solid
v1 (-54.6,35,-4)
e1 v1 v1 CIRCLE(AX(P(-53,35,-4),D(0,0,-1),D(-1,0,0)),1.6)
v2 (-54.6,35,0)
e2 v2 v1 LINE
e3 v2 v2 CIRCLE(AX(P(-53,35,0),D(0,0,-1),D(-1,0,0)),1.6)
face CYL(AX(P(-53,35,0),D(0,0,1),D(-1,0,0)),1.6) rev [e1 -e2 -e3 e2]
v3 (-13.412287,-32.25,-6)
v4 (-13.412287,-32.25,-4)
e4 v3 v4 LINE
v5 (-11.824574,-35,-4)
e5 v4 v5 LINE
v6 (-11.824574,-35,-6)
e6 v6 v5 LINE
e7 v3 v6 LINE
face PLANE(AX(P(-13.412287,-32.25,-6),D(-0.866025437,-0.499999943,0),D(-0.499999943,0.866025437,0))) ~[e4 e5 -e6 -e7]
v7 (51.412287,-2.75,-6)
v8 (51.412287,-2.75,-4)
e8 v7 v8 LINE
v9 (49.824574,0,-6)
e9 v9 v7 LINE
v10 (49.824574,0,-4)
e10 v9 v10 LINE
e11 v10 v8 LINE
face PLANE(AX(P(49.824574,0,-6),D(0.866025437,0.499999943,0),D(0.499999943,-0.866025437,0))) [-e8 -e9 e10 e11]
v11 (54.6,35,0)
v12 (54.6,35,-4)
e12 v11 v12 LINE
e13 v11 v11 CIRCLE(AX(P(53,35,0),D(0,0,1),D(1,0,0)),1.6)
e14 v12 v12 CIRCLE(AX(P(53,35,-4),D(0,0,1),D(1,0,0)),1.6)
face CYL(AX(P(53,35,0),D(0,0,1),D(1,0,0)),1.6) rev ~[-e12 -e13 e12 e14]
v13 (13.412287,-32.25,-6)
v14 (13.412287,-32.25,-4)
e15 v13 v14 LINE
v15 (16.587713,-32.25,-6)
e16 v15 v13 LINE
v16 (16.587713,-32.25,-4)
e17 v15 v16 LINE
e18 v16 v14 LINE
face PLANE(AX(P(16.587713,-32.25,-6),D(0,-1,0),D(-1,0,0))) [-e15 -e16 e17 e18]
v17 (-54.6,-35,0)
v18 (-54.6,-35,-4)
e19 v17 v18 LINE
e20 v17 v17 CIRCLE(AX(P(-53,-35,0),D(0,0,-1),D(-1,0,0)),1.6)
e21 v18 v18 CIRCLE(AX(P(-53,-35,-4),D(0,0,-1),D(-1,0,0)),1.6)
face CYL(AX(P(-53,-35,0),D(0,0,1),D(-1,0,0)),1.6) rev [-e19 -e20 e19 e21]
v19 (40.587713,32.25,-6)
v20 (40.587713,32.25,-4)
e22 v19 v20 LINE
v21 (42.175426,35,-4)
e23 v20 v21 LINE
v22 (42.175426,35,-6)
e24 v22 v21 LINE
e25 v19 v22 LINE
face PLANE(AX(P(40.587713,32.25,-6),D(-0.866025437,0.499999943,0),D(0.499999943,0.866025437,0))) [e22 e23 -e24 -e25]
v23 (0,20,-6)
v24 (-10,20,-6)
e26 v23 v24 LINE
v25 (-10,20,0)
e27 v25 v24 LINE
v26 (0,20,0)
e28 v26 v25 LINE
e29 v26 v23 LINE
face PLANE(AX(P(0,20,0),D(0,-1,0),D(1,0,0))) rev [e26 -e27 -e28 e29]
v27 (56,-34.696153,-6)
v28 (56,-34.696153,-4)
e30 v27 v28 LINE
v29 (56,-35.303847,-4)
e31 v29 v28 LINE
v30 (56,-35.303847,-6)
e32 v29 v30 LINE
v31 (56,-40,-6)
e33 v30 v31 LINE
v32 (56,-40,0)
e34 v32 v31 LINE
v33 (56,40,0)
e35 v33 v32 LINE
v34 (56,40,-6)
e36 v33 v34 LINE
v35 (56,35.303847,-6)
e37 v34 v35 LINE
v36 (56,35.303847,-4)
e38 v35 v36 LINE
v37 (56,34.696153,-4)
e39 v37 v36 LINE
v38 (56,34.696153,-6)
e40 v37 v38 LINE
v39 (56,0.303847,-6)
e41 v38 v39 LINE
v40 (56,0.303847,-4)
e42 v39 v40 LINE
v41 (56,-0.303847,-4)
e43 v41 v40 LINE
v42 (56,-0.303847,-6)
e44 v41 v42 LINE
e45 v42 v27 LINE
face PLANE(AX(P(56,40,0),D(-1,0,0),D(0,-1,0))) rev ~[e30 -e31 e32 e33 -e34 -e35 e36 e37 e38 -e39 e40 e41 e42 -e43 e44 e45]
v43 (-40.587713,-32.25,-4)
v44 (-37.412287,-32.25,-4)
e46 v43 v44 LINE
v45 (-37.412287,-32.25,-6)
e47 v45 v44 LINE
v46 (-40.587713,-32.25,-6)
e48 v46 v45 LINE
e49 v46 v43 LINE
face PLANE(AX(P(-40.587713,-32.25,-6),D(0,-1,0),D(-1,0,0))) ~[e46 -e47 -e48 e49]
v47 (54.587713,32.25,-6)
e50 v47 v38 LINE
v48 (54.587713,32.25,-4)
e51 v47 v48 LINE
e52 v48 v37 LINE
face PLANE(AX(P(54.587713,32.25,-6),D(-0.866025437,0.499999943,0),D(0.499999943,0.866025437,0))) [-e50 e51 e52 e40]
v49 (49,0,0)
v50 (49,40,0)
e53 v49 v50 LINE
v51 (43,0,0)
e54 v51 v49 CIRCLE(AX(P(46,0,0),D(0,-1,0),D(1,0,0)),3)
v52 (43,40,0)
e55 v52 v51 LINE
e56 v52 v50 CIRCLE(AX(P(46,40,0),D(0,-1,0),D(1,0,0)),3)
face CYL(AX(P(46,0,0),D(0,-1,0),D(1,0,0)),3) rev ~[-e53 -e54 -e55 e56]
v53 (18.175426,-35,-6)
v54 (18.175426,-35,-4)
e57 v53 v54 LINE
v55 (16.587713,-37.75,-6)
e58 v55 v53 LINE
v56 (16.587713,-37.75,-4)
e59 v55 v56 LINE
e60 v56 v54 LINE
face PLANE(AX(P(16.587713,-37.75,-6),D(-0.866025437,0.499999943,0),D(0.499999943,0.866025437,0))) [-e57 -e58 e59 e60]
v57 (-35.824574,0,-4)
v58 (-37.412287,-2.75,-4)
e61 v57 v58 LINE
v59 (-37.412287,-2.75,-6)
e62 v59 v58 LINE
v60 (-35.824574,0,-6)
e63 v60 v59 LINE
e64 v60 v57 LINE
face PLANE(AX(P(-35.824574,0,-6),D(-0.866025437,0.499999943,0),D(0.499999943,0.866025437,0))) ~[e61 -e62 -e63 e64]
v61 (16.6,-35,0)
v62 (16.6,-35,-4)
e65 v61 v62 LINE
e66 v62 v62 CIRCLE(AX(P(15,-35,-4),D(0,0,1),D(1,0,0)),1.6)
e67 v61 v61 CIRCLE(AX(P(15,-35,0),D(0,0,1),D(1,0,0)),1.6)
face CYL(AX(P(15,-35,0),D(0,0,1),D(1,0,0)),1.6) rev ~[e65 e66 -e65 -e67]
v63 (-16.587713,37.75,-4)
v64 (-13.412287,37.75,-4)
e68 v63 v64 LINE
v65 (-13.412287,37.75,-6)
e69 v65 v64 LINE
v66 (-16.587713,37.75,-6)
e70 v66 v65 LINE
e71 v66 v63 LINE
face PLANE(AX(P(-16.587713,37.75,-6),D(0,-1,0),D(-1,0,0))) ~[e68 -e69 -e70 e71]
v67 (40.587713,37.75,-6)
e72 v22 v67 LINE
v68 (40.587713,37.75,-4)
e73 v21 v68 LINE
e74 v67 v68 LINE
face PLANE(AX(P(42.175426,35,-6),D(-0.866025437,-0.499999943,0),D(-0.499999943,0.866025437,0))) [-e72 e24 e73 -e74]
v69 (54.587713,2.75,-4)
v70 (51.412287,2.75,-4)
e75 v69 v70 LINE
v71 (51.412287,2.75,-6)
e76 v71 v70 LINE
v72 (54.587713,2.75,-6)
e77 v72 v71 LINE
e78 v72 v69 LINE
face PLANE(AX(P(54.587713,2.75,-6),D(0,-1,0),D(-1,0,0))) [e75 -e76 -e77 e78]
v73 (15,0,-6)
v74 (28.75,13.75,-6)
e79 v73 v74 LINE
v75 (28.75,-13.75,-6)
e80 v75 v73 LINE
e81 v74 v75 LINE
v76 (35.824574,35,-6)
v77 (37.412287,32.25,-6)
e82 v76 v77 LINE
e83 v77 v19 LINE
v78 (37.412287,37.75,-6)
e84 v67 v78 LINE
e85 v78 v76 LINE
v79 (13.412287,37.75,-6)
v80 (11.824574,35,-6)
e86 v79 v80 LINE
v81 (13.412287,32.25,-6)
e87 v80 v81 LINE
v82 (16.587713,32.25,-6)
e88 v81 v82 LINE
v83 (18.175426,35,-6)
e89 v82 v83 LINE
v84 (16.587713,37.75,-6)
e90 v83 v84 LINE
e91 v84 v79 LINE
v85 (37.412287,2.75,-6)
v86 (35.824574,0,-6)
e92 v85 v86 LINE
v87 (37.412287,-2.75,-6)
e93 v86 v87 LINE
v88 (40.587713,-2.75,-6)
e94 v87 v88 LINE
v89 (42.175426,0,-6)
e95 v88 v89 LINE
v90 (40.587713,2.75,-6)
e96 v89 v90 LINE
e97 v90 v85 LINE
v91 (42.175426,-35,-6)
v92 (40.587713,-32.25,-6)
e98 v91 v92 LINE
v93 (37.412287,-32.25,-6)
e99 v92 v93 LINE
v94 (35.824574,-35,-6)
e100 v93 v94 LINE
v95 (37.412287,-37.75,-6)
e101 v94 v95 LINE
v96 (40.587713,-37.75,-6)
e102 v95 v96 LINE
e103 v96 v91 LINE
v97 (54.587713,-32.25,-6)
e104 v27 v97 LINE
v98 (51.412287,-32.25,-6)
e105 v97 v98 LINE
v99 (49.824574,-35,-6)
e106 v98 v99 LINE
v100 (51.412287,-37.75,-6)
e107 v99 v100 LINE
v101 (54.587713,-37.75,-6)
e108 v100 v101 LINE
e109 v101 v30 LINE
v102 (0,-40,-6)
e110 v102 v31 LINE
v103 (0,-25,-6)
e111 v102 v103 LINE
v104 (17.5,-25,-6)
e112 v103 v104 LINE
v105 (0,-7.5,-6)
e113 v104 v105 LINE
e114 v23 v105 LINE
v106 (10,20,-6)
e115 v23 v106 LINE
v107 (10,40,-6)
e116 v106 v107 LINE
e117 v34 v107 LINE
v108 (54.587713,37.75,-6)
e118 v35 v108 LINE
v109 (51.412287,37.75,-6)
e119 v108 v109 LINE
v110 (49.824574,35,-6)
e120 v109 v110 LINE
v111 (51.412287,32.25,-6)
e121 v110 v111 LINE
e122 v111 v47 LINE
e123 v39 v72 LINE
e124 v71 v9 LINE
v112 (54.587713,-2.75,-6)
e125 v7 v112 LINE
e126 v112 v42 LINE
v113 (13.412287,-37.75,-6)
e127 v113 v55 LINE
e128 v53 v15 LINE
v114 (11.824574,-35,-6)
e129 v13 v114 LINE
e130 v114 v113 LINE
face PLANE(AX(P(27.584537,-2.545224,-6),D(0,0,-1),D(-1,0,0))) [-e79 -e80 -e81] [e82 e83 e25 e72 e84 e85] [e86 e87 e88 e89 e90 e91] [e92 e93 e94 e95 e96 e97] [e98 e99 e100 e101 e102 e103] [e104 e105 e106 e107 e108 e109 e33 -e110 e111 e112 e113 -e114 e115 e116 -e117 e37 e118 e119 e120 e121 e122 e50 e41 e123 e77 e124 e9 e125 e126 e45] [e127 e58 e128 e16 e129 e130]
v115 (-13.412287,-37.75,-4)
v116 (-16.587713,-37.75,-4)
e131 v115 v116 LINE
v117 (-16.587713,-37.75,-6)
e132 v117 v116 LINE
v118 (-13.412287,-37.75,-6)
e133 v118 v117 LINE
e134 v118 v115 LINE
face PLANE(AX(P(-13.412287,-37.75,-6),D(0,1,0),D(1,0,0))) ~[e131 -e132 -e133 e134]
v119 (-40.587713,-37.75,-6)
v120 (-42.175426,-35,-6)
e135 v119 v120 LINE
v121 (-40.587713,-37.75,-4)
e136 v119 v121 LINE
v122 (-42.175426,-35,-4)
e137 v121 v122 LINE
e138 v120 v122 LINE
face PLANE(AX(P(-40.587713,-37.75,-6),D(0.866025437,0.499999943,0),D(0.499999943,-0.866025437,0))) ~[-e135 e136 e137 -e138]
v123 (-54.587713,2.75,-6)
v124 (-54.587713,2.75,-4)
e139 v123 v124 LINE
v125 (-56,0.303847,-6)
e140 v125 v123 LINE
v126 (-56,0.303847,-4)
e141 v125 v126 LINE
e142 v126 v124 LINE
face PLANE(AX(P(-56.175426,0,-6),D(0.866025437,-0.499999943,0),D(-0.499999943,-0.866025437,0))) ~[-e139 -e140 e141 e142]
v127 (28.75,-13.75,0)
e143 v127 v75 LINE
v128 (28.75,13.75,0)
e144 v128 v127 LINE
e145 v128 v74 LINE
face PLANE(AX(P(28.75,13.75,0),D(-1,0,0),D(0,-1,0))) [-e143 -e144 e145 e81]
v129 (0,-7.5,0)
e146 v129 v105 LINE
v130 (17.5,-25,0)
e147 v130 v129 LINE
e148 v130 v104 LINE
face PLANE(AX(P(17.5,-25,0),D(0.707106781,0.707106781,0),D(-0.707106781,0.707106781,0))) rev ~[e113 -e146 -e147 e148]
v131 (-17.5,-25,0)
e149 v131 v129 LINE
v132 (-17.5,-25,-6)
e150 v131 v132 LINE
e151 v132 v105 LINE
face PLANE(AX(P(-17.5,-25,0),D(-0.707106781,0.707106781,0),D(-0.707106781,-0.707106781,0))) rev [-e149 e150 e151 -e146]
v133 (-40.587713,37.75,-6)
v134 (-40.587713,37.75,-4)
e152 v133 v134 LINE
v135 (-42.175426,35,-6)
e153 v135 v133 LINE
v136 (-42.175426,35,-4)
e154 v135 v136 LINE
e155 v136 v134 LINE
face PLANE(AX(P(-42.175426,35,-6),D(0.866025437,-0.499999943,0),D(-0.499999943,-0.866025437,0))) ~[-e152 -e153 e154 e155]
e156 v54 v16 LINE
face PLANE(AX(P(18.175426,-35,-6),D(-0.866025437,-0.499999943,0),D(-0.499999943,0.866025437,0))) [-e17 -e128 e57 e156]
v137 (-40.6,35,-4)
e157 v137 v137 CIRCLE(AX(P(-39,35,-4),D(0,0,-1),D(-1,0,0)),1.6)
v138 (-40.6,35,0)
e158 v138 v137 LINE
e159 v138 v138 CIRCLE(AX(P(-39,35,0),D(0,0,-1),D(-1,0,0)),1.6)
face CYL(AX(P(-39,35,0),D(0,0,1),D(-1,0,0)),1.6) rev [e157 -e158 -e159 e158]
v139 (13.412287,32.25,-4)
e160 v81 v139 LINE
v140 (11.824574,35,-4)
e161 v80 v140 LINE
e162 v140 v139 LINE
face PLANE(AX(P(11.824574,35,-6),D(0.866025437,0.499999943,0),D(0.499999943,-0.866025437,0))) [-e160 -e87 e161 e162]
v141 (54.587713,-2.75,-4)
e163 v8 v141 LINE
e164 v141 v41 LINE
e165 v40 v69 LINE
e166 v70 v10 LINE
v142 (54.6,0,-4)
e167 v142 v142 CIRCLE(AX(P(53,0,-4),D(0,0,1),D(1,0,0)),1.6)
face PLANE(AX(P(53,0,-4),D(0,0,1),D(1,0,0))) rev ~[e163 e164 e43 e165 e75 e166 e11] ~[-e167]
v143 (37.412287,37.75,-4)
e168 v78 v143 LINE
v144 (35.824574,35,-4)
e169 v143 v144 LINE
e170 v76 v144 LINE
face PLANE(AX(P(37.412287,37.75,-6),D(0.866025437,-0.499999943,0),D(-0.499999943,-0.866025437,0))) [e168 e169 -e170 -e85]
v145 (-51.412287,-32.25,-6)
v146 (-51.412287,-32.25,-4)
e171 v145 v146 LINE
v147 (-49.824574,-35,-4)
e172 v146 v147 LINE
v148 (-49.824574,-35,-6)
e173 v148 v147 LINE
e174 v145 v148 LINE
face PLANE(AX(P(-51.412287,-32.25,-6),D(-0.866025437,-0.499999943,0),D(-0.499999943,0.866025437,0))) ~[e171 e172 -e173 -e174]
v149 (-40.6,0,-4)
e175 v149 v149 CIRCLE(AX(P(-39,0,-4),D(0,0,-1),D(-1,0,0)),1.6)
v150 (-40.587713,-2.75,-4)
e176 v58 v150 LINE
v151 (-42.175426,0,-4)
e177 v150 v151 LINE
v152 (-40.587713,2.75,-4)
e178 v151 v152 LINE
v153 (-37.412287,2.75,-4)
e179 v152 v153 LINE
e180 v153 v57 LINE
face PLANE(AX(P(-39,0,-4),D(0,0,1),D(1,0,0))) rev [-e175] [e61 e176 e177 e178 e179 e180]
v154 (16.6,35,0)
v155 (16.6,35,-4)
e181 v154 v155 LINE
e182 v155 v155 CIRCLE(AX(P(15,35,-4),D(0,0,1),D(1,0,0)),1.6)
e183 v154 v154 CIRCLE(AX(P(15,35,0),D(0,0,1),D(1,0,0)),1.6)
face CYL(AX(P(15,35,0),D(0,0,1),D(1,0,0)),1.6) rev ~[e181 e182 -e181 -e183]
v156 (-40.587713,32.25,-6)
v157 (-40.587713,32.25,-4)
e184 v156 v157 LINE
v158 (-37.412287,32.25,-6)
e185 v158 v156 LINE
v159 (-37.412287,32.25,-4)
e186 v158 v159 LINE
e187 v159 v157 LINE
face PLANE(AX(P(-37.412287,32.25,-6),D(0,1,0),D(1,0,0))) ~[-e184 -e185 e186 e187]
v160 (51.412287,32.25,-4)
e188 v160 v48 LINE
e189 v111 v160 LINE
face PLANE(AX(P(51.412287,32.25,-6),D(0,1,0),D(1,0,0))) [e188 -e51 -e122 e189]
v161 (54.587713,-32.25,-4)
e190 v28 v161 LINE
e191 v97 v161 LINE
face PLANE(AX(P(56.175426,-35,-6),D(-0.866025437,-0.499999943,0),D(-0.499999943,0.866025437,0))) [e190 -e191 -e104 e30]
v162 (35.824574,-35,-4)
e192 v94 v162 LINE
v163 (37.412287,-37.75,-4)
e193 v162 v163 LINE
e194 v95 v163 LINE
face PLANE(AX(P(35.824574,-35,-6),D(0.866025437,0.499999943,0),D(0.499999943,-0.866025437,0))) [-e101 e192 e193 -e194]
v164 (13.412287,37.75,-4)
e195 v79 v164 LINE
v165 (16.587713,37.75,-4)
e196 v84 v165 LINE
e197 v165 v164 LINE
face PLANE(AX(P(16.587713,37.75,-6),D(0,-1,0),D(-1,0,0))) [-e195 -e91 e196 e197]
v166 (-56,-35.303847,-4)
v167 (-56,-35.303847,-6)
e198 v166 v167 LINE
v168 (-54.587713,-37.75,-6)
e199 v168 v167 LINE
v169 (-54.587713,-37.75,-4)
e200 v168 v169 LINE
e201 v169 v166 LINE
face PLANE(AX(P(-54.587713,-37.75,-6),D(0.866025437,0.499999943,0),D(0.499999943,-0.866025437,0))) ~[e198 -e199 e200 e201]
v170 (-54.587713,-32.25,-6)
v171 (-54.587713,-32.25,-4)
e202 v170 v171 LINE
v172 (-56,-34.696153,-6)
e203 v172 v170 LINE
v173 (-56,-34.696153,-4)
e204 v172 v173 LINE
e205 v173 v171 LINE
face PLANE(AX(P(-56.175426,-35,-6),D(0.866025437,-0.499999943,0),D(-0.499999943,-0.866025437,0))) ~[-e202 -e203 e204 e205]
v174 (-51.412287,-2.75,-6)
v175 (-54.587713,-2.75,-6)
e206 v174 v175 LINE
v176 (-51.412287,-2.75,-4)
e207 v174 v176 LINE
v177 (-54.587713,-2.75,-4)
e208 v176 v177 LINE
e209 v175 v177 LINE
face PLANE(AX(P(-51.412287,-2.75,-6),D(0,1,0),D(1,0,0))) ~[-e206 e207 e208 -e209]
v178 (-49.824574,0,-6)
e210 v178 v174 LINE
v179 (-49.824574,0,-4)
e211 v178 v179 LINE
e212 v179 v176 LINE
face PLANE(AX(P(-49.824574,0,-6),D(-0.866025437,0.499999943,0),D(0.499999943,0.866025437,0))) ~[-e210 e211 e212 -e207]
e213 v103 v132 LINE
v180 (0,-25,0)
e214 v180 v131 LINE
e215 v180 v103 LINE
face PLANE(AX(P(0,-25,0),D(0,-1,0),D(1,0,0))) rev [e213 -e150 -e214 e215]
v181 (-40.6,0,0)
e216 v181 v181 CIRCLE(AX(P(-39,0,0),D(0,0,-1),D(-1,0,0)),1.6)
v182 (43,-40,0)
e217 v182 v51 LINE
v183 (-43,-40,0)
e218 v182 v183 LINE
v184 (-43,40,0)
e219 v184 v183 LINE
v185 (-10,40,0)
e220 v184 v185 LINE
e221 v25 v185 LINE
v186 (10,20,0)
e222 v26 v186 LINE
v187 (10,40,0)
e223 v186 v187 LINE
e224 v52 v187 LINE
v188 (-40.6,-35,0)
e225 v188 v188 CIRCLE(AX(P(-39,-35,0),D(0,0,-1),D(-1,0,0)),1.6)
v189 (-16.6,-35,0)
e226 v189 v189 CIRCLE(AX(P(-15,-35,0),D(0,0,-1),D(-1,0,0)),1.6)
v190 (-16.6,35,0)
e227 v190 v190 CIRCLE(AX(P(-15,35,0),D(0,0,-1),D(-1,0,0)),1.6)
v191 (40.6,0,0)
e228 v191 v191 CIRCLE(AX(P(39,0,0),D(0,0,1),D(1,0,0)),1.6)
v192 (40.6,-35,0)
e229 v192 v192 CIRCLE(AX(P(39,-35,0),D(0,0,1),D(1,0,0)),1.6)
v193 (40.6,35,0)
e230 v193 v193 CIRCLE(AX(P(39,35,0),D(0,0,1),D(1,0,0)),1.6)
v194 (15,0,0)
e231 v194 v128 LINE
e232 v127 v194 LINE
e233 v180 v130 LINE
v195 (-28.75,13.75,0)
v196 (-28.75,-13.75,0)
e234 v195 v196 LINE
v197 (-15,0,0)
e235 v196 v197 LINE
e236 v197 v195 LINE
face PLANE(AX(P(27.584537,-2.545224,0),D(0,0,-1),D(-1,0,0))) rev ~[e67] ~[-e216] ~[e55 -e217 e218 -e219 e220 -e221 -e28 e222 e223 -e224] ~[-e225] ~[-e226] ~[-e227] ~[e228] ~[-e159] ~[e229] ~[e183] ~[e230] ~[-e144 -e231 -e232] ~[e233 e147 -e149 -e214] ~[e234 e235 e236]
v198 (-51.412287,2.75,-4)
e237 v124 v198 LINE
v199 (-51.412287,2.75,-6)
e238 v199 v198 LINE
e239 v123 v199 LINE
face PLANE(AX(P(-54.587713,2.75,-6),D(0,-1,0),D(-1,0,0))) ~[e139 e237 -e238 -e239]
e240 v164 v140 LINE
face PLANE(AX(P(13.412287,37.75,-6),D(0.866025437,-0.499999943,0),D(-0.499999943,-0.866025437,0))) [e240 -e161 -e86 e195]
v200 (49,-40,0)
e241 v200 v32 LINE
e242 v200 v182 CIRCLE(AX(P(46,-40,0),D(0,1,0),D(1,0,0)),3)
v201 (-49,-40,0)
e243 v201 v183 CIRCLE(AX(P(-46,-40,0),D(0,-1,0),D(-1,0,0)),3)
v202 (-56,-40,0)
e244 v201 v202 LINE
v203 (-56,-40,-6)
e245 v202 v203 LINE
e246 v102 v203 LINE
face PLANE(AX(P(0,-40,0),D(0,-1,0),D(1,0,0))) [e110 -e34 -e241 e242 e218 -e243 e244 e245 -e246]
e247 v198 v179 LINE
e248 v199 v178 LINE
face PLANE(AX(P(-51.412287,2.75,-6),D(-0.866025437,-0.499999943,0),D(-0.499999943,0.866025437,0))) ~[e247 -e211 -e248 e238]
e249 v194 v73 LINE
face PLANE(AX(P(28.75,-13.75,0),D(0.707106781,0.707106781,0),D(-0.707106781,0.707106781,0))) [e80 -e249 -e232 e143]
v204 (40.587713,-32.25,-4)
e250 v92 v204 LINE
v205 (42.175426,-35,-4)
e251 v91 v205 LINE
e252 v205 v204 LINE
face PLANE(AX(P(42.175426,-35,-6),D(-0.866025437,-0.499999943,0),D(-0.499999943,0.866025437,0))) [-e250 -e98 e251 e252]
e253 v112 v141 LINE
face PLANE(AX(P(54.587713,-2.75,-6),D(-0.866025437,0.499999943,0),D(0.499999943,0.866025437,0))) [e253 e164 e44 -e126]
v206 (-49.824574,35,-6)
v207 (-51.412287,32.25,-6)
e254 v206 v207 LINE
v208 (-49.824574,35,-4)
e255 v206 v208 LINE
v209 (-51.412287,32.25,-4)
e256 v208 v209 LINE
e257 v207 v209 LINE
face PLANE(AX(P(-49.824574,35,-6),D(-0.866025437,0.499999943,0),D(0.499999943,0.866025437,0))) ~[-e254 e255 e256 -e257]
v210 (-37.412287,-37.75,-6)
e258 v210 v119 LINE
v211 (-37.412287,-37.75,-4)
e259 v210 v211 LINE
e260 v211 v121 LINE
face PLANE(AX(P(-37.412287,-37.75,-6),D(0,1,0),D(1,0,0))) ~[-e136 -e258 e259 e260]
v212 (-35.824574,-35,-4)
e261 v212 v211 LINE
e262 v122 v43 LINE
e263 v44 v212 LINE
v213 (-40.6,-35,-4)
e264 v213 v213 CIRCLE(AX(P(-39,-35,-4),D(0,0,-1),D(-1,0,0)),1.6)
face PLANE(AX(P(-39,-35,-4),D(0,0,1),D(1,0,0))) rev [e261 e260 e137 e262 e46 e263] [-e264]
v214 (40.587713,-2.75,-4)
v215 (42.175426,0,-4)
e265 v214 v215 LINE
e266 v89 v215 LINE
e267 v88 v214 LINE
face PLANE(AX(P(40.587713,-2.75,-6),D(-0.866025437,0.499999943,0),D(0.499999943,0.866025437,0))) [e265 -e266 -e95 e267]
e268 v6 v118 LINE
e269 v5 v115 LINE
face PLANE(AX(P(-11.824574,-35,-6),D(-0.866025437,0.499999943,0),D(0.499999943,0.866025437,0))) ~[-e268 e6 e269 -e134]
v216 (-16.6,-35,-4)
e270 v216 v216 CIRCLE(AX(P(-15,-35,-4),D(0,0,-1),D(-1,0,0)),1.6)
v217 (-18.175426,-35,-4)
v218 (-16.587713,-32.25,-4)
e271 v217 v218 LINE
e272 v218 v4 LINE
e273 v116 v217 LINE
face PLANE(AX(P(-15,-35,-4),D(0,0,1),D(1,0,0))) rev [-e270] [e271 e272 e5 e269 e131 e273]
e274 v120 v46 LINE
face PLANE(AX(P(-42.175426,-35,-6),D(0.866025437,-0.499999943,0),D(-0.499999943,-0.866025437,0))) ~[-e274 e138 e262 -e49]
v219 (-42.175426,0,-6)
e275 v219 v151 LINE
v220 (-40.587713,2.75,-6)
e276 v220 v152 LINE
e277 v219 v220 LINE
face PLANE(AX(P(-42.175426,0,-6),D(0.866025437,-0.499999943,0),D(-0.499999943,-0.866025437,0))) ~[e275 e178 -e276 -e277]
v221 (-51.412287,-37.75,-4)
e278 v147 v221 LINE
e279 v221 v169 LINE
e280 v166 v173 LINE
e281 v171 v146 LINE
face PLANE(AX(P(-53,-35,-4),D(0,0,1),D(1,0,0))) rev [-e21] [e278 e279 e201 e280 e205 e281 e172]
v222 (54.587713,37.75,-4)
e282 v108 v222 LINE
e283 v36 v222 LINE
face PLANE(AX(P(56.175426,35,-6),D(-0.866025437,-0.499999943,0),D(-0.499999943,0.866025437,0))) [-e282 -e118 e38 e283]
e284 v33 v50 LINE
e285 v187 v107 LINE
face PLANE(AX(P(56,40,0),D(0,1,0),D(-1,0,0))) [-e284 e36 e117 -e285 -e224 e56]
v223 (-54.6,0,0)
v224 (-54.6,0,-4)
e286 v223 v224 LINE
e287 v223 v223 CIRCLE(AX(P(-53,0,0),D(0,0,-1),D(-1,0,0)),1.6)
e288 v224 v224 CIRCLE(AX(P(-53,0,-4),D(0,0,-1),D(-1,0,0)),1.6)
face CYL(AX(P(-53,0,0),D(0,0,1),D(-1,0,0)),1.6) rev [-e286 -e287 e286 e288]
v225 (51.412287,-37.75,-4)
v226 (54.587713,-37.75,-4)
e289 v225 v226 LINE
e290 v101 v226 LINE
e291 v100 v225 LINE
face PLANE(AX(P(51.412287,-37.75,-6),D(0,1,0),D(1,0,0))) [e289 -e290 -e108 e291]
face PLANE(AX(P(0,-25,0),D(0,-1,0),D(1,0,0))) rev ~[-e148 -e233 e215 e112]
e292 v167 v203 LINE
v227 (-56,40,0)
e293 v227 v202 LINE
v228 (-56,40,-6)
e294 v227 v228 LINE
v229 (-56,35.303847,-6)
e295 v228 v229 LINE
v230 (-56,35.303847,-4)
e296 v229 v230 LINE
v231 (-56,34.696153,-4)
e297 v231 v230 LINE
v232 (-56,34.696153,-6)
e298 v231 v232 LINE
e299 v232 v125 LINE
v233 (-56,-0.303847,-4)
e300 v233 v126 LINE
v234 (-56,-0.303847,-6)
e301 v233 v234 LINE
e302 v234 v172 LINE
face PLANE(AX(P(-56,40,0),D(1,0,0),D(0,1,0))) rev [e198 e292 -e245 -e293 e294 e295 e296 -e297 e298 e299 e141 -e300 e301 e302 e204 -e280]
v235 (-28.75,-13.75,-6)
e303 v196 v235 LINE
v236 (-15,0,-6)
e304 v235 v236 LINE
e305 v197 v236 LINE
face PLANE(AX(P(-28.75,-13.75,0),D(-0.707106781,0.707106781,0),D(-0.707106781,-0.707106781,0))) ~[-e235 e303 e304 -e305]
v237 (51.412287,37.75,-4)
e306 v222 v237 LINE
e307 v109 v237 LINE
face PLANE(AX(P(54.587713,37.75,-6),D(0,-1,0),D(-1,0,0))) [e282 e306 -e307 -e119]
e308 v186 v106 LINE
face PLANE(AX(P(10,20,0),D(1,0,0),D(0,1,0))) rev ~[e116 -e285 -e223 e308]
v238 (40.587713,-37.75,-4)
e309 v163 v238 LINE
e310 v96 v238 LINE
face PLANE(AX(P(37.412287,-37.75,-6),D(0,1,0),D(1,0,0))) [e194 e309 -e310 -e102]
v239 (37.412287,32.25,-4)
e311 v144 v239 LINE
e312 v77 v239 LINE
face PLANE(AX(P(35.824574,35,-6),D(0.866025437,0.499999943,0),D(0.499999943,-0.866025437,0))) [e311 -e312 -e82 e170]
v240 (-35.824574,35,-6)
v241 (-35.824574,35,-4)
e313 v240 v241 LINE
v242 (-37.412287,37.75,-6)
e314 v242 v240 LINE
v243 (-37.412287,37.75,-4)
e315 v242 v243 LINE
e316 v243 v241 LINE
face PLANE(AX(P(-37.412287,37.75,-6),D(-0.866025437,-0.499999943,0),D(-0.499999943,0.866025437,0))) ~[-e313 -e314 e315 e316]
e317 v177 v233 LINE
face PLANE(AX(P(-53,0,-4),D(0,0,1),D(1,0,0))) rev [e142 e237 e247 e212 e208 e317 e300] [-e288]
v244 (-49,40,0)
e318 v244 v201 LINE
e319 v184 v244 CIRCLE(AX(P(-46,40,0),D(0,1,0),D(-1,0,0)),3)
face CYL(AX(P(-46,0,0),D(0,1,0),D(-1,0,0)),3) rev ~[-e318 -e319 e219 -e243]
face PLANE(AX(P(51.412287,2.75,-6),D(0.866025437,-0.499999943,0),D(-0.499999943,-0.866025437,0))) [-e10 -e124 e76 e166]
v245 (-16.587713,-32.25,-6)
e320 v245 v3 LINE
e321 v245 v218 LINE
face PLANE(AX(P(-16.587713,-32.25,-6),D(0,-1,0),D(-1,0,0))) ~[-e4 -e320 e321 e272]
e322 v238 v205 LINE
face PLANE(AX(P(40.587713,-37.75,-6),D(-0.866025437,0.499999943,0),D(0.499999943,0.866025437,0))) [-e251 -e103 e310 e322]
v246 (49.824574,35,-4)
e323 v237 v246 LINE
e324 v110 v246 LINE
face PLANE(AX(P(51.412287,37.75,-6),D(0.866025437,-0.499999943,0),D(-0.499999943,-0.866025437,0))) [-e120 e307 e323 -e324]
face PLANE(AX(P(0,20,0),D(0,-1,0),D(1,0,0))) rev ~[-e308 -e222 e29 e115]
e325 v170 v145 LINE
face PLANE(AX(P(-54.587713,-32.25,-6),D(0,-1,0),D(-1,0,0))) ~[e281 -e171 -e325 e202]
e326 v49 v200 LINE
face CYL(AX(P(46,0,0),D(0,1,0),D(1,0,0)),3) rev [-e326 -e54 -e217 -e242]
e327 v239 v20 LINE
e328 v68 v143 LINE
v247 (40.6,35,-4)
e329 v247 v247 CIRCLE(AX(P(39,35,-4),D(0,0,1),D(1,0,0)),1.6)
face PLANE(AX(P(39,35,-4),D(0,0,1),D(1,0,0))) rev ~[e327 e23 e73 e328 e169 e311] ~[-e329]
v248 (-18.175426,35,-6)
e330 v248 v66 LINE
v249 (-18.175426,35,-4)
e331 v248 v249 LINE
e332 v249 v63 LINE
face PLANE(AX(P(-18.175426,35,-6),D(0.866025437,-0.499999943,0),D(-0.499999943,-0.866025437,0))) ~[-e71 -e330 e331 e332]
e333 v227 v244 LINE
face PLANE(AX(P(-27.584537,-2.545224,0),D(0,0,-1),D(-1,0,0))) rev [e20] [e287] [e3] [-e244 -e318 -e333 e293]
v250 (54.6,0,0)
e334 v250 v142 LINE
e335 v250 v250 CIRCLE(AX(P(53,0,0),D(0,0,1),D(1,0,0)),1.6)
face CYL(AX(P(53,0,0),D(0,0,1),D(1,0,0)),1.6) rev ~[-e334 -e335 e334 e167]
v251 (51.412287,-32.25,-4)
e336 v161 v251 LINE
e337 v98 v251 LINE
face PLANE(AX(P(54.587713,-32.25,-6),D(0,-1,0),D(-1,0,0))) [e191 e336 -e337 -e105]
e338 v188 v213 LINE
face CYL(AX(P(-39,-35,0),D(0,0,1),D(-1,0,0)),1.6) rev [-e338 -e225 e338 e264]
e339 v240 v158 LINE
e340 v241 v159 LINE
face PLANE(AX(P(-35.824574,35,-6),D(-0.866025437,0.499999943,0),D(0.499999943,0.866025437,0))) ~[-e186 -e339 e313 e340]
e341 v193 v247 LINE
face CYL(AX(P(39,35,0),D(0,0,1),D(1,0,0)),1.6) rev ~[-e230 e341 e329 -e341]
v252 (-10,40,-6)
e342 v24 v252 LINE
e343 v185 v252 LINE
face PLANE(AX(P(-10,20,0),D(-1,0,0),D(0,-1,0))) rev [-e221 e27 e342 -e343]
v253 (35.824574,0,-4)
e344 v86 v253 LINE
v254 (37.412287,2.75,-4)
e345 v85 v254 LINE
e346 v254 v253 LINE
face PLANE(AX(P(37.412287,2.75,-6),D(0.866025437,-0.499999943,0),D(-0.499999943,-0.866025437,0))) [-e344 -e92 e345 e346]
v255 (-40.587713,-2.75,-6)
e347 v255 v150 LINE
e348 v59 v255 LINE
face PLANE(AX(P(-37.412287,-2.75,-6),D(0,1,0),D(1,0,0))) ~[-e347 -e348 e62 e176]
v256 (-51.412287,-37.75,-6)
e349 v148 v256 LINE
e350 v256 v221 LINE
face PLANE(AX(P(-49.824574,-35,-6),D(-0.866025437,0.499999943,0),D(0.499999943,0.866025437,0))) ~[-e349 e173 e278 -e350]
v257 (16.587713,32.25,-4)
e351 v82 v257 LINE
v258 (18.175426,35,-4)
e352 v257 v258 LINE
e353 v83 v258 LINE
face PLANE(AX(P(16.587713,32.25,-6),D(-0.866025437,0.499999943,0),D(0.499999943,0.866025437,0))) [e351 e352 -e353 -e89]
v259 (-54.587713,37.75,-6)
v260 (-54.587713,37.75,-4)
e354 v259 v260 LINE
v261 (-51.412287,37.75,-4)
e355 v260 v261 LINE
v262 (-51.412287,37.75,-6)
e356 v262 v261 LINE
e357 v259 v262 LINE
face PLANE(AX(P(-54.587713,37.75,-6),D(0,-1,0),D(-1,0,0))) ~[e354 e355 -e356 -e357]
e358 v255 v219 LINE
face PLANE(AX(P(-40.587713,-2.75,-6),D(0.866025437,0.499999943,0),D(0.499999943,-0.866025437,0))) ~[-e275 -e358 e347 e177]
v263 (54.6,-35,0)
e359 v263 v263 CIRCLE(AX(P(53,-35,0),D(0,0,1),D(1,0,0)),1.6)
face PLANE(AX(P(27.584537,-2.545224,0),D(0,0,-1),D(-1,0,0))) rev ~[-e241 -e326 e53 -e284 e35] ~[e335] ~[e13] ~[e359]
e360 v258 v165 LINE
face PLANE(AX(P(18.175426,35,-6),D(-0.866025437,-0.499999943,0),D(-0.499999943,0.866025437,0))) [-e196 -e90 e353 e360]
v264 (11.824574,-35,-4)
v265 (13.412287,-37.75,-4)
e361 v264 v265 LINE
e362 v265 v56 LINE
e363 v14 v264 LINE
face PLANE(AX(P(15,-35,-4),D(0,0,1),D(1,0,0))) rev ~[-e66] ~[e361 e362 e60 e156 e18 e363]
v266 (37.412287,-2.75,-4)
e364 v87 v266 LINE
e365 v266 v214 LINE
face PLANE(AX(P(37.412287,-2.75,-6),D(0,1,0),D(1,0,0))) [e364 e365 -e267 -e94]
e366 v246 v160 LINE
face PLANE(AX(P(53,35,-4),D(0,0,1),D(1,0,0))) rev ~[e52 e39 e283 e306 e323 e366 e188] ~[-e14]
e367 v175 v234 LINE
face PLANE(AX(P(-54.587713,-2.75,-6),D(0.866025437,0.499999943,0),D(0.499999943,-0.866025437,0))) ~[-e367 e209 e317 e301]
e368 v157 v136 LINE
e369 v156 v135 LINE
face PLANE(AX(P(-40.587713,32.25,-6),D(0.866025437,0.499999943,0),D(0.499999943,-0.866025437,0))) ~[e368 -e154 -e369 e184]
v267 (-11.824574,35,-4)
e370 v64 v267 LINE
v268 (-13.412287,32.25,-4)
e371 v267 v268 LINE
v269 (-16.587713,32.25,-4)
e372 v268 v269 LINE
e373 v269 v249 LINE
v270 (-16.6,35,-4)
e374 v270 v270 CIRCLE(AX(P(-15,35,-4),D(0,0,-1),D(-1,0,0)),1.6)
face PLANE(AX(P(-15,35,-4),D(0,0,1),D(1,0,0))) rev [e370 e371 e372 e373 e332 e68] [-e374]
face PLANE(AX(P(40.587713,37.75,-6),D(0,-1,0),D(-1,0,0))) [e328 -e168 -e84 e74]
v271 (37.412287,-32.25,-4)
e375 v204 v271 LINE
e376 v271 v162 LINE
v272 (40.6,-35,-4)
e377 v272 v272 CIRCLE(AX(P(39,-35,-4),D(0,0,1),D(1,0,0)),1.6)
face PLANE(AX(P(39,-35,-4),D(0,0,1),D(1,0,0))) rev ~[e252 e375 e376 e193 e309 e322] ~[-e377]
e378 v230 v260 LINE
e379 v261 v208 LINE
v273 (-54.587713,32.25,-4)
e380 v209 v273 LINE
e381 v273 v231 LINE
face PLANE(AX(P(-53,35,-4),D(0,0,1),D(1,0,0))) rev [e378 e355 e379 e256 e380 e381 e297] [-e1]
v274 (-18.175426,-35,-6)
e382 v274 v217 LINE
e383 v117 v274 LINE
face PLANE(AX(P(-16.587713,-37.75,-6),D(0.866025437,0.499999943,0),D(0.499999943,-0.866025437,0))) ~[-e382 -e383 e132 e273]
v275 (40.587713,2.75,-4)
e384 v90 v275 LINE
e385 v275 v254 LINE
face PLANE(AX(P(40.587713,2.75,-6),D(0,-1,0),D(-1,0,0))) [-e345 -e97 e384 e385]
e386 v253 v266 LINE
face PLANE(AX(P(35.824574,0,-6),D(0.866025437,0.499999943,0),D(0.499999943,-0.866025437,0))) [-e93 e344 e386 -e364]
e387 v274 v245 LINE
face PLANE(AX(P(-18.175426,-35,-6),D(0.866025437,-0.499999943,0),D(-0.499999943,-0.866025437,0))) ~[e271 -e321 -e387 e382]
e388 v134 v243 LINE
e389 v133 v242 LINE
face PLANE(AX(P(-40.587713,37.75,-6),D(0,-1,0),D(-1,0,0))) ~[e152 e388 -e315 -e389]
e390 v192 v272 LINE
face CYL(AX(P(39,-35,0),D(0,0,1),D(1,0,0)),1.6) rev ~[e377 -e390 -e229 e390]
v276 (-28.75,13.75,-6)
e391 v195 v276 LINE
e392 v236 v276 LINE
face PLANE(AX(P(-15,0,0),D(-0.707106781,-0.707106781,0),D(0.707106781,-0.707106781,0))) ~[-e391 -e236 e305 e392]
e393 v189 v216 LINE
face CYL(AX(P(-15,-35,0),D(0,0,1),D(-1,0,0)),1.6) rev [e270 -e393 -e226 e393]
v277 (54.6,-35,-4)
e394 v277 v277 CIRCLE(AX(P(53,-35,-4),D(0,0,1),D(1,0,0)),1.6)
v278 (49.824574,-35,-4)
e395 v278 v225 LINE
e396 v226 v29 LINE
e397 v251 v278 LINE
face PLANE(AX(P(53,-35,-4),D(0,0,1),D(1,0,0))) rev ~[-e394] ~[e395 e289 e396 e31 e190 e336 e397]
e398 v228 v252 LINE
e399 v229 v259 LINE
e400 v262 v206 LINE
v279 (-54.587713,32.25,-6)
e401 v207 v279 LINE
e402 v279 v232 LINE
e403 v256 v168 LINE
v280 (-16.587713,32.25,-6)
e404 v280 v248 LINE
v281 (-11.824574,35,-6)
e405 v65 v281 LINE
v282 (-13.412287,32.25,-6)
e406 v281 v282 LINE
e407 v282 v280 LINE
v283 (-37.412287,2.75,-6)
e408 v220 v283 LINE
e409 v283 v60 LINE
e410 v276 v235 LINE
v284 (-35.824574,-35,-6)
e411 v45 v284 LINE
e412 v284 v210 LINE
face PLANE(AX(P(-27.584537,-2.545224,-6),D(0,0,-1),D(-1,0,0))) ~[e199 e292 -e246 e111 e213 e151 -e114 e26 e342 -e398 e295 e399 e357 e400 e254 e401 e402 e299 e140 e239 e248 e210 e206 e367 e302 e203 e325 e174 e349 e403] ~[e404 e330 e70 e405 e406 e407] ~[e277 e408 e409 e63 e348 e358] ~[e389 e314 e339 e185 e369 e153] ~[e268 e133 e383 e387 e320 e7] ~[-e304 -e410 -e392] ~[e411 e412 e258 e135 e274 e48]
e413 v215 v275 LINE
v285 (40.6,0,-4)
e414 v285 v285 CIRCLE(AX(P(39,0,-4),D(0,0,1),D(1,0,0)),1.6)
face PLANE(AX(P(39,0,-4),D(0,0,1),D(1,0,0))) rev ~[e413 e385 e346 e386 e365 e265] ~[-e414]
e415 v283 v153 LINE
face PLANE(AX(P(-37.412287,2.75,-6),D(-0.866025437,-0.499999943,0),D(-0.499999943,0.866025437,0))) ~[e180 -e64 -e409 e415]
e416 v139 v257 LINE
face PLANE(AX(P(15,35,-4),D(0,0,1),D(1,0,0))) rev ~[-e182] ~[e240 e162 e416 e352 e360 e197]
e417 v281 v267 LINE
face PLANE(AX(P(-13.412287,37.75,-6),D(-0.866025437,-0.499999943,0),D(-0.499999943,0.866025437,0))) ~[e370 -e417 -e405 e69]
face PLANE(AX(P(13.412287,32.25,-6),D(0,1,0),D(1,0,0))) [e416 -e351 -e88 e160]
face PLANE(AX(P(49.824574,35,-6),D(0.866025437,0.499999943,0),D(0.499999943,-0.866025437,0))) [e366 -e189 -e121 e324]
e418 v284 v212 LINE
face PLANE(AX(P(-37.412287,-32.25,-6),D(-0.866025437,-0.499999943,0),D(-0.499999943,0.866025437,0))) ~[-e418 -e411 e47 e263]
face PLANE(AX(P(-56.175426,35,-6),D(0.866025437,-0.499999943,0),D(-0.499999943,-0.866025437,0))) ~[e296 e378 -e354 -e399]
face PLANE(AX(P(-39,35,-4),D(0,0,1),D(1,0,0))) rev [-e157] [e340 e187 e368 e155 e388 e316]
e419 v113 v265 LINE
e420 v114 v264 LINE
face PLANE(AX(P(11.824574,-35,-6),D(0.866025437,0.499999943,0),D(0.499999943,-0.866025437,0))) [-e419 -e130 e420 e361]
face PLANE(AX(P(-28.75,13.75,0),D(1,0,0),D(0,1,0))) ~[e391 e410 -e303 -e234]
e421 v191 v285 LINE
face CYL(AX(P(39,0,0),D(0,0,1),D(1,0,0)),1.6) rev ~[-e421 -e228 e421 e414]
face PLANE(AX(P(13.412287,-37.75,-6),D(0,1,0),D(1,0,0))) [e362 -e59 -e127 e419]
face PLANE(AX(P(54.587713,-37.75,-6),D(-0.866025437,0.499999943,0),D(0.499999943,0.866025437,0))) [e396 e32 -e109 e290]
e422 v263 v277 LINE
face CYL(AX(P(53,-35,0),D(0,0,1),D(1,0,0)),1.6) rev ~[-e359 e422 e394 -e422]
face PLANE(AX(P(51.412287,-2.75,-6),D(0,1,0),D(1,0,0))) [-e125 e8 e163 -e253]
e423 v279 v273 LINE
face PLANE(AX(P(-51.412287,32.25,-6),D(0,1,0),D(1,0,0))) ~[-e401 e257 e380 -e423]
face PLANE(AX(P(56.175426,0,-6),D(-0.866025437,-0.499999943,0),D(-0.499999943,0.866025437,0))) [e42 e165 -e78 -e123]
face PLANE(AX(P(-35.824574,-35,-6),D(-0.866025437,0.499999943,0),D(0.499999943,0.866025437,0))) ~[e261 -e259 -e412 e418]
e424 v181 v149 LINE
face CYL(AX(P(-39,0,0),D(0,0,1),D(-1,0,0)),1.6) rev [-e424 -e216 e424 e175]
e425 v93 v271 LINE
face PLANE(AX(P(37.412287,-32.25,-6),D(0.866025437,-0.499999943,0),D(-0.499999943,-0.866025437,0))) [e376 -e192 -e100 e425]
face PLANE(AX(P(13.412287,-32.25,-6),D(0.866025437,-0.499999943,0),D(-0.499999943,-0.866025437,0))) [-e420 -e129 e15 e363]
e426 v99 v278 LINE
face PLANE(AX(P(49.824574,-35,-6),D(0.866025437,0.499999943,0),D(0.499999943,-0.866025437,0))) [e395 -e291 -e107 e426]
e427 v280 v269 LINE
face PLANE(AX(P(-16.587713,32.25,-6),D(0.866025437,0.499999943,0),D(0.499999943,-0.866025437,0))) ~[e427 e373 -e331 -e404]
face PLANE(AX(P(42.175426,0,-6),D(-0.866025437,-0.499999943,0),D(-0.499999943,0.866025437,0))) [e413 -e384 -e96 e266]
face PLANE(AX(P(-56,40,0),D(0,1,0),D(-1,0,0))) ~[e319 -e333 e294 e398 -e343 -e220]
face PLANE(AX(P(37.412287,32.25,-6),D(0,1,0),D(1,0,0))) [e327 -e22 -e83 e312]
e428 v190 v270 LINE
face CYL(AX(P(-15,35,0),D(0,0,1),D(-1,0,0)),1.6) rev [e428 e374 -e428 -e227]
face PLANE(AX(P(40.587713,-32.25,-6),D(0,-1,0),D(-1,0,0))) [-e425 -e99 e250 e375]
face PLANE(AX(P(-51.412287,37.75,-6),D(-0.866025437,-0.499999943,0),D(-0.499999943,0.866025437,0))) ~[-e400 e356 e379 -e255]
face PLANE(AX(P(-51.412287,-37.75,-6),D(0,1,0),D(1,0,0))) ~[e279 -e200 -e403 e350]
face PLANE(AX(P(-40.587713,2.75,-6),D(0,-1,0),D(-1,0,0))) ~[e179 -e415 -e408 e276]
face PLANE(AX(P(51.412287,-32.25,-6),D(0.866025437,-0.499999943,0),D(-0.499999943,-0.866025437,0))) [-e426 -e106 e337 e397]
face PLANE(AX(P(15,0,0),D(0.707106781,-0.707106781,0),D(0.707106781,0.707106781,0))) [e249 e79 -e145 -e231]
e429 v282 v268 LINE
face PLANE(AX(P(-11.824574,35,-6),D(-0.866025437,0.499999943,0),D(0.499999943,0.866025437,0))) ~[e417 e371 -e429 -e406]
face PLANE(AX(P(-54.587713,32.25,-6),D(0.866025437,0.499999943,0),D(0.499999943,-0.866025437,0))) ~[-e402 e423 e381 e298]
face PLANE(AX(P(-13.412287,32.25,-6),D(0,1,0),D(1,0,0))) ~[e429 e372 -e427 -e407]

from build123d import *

# Parameters (mm, degrees)
SKETCH_R          = 1.6
PAD_DEPTH         = 6
SKETCH001_R       = 3
POCKET_DEPTH      = 40.001
POCKET_DEPTH_BACK = 40.001
POCKET001_DEPTH   = 2


with BuildPart() as toolbody:
    # Sketch → Pad (new body)
    with BuildSketch(Plane.XY):
        Polygon((46, -40), (0, -40), (0, -25), (17.5, -25), (0, -7.5), (0, 7.5), (0, 20), (10, 20), (10, 40), (46, 40), (56, 40), (56, -40), align=None)
        with Locations((53, 0)):
            Circle(SKETCH_R, mode=Mode.SUBTRACT)
        with Locations((53, 35)):
            Circle(SKETCH_R, mode=Mode.SUBTRACT)
        with Locations((53, -35)):
            Circle(SKETCH_R, mode=Mode.SUBTRACT)
        with Locations((39, 35)):
            Circle(SKETCH_R, mode=Mode.SUBTRACT)
        with Locations((39, 0)):
            Circle(SKETCH_R, mode=Mode.SUBTRACT)
        with Locations((39, -35)):
            Circle(SKETCH_R, mode=Mode.SUBTRACT)
        with Locations((15, 35)):
            Circle(SKETCH_R, mode=Mode.SUBTRACT)
        with Locations((15, -35)):
            Circle(SKETCH_R, mode=Mode.SUBTRACT)
        Polygon((15, 0), (28.75, 13.75), (28.75, -13.75), align=None, mode=Mode.SUBTRACT)
    extrude(amount=-PAD_DEPTH)

    # Sketch001 → Pocket (cut, two sides)
    with BuildSketch(Plane.XZ) as pocket_sk:
        with Locations((46, 0)):
            Circle(SKETCH001_R)
    extrude(amount=-POCKET_DEPTH, mode=Mode.SUBTRACT)
    extrude(pocket_sk.sketch, amount=POCKET_DEPTH_BACK, mode=Mode.SUBTRACT)

    # Sketch002 (on DatumPlane) → Pocket001 (cut)
    with BuildSketch(Plane.XY.offset(-6)):
        Polygon((16.587713, 32.25), (18.175426, 35), (16.587713, 37.75), (13.412287, 37.75), (11.824574, 35), (13.412287, 32.25), align=None)
        Polygon((40.587713, 32.25), (42.175426, 35), (40.587713, 37.75), (37.412287, 37.75), (35.824574, 35), (37.412287, 32.25), align=None)
        Polygon((54.587713, 32.25), (56.175426, 35), (54.587713, 37.75), (51.412287, 37.75), (49.824574, 35), (51.412287, 32.25), align=None)
        Polygon((54.587713, -2.75), (56.175426, 0), (54.587713, 2.75), (51.412287, 2.75), (49.824574, 0), (51.412287, -2.75), align=None)
        Polygon((40.587713, -2.75), (42.175426, 0), (40.587713, 2.75), (37.412287, 2.75), (35.824574, 0), (37.412287, -2.75), align=None)
        Polygon((54.587713, -37.75), (56.175426, -35), (54.587713, -32.25), (51.412287, -32.25), (49.824574, -35), (51.412287, -37.75), align=None)
        Polygon((40.587713, -37.75), (42.175426, -35), (40.587713, -32.25), (37.412287, -32.25), (35.824574, -35), (37.412287, -37.75), align=None)
        Polygon((16.587713, -37.75), (18.175426, -35), (16.587713, -32.25), (13.412287, -32.25), (11.824574, -35), (13.412287, -37.75), align=None)
    extrude(amount=POCKET001_DEPTH, mode=Mode.SUBTRACT)


with BuildPart() as toolfusion:
    # Part__Mirroring: instance of ToolBody
    add(toolbody.part.mirror(Plane(origin=(0, 0, 0), x_dir=(0, -1, 0), z_dir=(1, 0, 0))))

    # Fusion: union ToolBody
    add(toolbody.part)


solid = toolfusion.part
